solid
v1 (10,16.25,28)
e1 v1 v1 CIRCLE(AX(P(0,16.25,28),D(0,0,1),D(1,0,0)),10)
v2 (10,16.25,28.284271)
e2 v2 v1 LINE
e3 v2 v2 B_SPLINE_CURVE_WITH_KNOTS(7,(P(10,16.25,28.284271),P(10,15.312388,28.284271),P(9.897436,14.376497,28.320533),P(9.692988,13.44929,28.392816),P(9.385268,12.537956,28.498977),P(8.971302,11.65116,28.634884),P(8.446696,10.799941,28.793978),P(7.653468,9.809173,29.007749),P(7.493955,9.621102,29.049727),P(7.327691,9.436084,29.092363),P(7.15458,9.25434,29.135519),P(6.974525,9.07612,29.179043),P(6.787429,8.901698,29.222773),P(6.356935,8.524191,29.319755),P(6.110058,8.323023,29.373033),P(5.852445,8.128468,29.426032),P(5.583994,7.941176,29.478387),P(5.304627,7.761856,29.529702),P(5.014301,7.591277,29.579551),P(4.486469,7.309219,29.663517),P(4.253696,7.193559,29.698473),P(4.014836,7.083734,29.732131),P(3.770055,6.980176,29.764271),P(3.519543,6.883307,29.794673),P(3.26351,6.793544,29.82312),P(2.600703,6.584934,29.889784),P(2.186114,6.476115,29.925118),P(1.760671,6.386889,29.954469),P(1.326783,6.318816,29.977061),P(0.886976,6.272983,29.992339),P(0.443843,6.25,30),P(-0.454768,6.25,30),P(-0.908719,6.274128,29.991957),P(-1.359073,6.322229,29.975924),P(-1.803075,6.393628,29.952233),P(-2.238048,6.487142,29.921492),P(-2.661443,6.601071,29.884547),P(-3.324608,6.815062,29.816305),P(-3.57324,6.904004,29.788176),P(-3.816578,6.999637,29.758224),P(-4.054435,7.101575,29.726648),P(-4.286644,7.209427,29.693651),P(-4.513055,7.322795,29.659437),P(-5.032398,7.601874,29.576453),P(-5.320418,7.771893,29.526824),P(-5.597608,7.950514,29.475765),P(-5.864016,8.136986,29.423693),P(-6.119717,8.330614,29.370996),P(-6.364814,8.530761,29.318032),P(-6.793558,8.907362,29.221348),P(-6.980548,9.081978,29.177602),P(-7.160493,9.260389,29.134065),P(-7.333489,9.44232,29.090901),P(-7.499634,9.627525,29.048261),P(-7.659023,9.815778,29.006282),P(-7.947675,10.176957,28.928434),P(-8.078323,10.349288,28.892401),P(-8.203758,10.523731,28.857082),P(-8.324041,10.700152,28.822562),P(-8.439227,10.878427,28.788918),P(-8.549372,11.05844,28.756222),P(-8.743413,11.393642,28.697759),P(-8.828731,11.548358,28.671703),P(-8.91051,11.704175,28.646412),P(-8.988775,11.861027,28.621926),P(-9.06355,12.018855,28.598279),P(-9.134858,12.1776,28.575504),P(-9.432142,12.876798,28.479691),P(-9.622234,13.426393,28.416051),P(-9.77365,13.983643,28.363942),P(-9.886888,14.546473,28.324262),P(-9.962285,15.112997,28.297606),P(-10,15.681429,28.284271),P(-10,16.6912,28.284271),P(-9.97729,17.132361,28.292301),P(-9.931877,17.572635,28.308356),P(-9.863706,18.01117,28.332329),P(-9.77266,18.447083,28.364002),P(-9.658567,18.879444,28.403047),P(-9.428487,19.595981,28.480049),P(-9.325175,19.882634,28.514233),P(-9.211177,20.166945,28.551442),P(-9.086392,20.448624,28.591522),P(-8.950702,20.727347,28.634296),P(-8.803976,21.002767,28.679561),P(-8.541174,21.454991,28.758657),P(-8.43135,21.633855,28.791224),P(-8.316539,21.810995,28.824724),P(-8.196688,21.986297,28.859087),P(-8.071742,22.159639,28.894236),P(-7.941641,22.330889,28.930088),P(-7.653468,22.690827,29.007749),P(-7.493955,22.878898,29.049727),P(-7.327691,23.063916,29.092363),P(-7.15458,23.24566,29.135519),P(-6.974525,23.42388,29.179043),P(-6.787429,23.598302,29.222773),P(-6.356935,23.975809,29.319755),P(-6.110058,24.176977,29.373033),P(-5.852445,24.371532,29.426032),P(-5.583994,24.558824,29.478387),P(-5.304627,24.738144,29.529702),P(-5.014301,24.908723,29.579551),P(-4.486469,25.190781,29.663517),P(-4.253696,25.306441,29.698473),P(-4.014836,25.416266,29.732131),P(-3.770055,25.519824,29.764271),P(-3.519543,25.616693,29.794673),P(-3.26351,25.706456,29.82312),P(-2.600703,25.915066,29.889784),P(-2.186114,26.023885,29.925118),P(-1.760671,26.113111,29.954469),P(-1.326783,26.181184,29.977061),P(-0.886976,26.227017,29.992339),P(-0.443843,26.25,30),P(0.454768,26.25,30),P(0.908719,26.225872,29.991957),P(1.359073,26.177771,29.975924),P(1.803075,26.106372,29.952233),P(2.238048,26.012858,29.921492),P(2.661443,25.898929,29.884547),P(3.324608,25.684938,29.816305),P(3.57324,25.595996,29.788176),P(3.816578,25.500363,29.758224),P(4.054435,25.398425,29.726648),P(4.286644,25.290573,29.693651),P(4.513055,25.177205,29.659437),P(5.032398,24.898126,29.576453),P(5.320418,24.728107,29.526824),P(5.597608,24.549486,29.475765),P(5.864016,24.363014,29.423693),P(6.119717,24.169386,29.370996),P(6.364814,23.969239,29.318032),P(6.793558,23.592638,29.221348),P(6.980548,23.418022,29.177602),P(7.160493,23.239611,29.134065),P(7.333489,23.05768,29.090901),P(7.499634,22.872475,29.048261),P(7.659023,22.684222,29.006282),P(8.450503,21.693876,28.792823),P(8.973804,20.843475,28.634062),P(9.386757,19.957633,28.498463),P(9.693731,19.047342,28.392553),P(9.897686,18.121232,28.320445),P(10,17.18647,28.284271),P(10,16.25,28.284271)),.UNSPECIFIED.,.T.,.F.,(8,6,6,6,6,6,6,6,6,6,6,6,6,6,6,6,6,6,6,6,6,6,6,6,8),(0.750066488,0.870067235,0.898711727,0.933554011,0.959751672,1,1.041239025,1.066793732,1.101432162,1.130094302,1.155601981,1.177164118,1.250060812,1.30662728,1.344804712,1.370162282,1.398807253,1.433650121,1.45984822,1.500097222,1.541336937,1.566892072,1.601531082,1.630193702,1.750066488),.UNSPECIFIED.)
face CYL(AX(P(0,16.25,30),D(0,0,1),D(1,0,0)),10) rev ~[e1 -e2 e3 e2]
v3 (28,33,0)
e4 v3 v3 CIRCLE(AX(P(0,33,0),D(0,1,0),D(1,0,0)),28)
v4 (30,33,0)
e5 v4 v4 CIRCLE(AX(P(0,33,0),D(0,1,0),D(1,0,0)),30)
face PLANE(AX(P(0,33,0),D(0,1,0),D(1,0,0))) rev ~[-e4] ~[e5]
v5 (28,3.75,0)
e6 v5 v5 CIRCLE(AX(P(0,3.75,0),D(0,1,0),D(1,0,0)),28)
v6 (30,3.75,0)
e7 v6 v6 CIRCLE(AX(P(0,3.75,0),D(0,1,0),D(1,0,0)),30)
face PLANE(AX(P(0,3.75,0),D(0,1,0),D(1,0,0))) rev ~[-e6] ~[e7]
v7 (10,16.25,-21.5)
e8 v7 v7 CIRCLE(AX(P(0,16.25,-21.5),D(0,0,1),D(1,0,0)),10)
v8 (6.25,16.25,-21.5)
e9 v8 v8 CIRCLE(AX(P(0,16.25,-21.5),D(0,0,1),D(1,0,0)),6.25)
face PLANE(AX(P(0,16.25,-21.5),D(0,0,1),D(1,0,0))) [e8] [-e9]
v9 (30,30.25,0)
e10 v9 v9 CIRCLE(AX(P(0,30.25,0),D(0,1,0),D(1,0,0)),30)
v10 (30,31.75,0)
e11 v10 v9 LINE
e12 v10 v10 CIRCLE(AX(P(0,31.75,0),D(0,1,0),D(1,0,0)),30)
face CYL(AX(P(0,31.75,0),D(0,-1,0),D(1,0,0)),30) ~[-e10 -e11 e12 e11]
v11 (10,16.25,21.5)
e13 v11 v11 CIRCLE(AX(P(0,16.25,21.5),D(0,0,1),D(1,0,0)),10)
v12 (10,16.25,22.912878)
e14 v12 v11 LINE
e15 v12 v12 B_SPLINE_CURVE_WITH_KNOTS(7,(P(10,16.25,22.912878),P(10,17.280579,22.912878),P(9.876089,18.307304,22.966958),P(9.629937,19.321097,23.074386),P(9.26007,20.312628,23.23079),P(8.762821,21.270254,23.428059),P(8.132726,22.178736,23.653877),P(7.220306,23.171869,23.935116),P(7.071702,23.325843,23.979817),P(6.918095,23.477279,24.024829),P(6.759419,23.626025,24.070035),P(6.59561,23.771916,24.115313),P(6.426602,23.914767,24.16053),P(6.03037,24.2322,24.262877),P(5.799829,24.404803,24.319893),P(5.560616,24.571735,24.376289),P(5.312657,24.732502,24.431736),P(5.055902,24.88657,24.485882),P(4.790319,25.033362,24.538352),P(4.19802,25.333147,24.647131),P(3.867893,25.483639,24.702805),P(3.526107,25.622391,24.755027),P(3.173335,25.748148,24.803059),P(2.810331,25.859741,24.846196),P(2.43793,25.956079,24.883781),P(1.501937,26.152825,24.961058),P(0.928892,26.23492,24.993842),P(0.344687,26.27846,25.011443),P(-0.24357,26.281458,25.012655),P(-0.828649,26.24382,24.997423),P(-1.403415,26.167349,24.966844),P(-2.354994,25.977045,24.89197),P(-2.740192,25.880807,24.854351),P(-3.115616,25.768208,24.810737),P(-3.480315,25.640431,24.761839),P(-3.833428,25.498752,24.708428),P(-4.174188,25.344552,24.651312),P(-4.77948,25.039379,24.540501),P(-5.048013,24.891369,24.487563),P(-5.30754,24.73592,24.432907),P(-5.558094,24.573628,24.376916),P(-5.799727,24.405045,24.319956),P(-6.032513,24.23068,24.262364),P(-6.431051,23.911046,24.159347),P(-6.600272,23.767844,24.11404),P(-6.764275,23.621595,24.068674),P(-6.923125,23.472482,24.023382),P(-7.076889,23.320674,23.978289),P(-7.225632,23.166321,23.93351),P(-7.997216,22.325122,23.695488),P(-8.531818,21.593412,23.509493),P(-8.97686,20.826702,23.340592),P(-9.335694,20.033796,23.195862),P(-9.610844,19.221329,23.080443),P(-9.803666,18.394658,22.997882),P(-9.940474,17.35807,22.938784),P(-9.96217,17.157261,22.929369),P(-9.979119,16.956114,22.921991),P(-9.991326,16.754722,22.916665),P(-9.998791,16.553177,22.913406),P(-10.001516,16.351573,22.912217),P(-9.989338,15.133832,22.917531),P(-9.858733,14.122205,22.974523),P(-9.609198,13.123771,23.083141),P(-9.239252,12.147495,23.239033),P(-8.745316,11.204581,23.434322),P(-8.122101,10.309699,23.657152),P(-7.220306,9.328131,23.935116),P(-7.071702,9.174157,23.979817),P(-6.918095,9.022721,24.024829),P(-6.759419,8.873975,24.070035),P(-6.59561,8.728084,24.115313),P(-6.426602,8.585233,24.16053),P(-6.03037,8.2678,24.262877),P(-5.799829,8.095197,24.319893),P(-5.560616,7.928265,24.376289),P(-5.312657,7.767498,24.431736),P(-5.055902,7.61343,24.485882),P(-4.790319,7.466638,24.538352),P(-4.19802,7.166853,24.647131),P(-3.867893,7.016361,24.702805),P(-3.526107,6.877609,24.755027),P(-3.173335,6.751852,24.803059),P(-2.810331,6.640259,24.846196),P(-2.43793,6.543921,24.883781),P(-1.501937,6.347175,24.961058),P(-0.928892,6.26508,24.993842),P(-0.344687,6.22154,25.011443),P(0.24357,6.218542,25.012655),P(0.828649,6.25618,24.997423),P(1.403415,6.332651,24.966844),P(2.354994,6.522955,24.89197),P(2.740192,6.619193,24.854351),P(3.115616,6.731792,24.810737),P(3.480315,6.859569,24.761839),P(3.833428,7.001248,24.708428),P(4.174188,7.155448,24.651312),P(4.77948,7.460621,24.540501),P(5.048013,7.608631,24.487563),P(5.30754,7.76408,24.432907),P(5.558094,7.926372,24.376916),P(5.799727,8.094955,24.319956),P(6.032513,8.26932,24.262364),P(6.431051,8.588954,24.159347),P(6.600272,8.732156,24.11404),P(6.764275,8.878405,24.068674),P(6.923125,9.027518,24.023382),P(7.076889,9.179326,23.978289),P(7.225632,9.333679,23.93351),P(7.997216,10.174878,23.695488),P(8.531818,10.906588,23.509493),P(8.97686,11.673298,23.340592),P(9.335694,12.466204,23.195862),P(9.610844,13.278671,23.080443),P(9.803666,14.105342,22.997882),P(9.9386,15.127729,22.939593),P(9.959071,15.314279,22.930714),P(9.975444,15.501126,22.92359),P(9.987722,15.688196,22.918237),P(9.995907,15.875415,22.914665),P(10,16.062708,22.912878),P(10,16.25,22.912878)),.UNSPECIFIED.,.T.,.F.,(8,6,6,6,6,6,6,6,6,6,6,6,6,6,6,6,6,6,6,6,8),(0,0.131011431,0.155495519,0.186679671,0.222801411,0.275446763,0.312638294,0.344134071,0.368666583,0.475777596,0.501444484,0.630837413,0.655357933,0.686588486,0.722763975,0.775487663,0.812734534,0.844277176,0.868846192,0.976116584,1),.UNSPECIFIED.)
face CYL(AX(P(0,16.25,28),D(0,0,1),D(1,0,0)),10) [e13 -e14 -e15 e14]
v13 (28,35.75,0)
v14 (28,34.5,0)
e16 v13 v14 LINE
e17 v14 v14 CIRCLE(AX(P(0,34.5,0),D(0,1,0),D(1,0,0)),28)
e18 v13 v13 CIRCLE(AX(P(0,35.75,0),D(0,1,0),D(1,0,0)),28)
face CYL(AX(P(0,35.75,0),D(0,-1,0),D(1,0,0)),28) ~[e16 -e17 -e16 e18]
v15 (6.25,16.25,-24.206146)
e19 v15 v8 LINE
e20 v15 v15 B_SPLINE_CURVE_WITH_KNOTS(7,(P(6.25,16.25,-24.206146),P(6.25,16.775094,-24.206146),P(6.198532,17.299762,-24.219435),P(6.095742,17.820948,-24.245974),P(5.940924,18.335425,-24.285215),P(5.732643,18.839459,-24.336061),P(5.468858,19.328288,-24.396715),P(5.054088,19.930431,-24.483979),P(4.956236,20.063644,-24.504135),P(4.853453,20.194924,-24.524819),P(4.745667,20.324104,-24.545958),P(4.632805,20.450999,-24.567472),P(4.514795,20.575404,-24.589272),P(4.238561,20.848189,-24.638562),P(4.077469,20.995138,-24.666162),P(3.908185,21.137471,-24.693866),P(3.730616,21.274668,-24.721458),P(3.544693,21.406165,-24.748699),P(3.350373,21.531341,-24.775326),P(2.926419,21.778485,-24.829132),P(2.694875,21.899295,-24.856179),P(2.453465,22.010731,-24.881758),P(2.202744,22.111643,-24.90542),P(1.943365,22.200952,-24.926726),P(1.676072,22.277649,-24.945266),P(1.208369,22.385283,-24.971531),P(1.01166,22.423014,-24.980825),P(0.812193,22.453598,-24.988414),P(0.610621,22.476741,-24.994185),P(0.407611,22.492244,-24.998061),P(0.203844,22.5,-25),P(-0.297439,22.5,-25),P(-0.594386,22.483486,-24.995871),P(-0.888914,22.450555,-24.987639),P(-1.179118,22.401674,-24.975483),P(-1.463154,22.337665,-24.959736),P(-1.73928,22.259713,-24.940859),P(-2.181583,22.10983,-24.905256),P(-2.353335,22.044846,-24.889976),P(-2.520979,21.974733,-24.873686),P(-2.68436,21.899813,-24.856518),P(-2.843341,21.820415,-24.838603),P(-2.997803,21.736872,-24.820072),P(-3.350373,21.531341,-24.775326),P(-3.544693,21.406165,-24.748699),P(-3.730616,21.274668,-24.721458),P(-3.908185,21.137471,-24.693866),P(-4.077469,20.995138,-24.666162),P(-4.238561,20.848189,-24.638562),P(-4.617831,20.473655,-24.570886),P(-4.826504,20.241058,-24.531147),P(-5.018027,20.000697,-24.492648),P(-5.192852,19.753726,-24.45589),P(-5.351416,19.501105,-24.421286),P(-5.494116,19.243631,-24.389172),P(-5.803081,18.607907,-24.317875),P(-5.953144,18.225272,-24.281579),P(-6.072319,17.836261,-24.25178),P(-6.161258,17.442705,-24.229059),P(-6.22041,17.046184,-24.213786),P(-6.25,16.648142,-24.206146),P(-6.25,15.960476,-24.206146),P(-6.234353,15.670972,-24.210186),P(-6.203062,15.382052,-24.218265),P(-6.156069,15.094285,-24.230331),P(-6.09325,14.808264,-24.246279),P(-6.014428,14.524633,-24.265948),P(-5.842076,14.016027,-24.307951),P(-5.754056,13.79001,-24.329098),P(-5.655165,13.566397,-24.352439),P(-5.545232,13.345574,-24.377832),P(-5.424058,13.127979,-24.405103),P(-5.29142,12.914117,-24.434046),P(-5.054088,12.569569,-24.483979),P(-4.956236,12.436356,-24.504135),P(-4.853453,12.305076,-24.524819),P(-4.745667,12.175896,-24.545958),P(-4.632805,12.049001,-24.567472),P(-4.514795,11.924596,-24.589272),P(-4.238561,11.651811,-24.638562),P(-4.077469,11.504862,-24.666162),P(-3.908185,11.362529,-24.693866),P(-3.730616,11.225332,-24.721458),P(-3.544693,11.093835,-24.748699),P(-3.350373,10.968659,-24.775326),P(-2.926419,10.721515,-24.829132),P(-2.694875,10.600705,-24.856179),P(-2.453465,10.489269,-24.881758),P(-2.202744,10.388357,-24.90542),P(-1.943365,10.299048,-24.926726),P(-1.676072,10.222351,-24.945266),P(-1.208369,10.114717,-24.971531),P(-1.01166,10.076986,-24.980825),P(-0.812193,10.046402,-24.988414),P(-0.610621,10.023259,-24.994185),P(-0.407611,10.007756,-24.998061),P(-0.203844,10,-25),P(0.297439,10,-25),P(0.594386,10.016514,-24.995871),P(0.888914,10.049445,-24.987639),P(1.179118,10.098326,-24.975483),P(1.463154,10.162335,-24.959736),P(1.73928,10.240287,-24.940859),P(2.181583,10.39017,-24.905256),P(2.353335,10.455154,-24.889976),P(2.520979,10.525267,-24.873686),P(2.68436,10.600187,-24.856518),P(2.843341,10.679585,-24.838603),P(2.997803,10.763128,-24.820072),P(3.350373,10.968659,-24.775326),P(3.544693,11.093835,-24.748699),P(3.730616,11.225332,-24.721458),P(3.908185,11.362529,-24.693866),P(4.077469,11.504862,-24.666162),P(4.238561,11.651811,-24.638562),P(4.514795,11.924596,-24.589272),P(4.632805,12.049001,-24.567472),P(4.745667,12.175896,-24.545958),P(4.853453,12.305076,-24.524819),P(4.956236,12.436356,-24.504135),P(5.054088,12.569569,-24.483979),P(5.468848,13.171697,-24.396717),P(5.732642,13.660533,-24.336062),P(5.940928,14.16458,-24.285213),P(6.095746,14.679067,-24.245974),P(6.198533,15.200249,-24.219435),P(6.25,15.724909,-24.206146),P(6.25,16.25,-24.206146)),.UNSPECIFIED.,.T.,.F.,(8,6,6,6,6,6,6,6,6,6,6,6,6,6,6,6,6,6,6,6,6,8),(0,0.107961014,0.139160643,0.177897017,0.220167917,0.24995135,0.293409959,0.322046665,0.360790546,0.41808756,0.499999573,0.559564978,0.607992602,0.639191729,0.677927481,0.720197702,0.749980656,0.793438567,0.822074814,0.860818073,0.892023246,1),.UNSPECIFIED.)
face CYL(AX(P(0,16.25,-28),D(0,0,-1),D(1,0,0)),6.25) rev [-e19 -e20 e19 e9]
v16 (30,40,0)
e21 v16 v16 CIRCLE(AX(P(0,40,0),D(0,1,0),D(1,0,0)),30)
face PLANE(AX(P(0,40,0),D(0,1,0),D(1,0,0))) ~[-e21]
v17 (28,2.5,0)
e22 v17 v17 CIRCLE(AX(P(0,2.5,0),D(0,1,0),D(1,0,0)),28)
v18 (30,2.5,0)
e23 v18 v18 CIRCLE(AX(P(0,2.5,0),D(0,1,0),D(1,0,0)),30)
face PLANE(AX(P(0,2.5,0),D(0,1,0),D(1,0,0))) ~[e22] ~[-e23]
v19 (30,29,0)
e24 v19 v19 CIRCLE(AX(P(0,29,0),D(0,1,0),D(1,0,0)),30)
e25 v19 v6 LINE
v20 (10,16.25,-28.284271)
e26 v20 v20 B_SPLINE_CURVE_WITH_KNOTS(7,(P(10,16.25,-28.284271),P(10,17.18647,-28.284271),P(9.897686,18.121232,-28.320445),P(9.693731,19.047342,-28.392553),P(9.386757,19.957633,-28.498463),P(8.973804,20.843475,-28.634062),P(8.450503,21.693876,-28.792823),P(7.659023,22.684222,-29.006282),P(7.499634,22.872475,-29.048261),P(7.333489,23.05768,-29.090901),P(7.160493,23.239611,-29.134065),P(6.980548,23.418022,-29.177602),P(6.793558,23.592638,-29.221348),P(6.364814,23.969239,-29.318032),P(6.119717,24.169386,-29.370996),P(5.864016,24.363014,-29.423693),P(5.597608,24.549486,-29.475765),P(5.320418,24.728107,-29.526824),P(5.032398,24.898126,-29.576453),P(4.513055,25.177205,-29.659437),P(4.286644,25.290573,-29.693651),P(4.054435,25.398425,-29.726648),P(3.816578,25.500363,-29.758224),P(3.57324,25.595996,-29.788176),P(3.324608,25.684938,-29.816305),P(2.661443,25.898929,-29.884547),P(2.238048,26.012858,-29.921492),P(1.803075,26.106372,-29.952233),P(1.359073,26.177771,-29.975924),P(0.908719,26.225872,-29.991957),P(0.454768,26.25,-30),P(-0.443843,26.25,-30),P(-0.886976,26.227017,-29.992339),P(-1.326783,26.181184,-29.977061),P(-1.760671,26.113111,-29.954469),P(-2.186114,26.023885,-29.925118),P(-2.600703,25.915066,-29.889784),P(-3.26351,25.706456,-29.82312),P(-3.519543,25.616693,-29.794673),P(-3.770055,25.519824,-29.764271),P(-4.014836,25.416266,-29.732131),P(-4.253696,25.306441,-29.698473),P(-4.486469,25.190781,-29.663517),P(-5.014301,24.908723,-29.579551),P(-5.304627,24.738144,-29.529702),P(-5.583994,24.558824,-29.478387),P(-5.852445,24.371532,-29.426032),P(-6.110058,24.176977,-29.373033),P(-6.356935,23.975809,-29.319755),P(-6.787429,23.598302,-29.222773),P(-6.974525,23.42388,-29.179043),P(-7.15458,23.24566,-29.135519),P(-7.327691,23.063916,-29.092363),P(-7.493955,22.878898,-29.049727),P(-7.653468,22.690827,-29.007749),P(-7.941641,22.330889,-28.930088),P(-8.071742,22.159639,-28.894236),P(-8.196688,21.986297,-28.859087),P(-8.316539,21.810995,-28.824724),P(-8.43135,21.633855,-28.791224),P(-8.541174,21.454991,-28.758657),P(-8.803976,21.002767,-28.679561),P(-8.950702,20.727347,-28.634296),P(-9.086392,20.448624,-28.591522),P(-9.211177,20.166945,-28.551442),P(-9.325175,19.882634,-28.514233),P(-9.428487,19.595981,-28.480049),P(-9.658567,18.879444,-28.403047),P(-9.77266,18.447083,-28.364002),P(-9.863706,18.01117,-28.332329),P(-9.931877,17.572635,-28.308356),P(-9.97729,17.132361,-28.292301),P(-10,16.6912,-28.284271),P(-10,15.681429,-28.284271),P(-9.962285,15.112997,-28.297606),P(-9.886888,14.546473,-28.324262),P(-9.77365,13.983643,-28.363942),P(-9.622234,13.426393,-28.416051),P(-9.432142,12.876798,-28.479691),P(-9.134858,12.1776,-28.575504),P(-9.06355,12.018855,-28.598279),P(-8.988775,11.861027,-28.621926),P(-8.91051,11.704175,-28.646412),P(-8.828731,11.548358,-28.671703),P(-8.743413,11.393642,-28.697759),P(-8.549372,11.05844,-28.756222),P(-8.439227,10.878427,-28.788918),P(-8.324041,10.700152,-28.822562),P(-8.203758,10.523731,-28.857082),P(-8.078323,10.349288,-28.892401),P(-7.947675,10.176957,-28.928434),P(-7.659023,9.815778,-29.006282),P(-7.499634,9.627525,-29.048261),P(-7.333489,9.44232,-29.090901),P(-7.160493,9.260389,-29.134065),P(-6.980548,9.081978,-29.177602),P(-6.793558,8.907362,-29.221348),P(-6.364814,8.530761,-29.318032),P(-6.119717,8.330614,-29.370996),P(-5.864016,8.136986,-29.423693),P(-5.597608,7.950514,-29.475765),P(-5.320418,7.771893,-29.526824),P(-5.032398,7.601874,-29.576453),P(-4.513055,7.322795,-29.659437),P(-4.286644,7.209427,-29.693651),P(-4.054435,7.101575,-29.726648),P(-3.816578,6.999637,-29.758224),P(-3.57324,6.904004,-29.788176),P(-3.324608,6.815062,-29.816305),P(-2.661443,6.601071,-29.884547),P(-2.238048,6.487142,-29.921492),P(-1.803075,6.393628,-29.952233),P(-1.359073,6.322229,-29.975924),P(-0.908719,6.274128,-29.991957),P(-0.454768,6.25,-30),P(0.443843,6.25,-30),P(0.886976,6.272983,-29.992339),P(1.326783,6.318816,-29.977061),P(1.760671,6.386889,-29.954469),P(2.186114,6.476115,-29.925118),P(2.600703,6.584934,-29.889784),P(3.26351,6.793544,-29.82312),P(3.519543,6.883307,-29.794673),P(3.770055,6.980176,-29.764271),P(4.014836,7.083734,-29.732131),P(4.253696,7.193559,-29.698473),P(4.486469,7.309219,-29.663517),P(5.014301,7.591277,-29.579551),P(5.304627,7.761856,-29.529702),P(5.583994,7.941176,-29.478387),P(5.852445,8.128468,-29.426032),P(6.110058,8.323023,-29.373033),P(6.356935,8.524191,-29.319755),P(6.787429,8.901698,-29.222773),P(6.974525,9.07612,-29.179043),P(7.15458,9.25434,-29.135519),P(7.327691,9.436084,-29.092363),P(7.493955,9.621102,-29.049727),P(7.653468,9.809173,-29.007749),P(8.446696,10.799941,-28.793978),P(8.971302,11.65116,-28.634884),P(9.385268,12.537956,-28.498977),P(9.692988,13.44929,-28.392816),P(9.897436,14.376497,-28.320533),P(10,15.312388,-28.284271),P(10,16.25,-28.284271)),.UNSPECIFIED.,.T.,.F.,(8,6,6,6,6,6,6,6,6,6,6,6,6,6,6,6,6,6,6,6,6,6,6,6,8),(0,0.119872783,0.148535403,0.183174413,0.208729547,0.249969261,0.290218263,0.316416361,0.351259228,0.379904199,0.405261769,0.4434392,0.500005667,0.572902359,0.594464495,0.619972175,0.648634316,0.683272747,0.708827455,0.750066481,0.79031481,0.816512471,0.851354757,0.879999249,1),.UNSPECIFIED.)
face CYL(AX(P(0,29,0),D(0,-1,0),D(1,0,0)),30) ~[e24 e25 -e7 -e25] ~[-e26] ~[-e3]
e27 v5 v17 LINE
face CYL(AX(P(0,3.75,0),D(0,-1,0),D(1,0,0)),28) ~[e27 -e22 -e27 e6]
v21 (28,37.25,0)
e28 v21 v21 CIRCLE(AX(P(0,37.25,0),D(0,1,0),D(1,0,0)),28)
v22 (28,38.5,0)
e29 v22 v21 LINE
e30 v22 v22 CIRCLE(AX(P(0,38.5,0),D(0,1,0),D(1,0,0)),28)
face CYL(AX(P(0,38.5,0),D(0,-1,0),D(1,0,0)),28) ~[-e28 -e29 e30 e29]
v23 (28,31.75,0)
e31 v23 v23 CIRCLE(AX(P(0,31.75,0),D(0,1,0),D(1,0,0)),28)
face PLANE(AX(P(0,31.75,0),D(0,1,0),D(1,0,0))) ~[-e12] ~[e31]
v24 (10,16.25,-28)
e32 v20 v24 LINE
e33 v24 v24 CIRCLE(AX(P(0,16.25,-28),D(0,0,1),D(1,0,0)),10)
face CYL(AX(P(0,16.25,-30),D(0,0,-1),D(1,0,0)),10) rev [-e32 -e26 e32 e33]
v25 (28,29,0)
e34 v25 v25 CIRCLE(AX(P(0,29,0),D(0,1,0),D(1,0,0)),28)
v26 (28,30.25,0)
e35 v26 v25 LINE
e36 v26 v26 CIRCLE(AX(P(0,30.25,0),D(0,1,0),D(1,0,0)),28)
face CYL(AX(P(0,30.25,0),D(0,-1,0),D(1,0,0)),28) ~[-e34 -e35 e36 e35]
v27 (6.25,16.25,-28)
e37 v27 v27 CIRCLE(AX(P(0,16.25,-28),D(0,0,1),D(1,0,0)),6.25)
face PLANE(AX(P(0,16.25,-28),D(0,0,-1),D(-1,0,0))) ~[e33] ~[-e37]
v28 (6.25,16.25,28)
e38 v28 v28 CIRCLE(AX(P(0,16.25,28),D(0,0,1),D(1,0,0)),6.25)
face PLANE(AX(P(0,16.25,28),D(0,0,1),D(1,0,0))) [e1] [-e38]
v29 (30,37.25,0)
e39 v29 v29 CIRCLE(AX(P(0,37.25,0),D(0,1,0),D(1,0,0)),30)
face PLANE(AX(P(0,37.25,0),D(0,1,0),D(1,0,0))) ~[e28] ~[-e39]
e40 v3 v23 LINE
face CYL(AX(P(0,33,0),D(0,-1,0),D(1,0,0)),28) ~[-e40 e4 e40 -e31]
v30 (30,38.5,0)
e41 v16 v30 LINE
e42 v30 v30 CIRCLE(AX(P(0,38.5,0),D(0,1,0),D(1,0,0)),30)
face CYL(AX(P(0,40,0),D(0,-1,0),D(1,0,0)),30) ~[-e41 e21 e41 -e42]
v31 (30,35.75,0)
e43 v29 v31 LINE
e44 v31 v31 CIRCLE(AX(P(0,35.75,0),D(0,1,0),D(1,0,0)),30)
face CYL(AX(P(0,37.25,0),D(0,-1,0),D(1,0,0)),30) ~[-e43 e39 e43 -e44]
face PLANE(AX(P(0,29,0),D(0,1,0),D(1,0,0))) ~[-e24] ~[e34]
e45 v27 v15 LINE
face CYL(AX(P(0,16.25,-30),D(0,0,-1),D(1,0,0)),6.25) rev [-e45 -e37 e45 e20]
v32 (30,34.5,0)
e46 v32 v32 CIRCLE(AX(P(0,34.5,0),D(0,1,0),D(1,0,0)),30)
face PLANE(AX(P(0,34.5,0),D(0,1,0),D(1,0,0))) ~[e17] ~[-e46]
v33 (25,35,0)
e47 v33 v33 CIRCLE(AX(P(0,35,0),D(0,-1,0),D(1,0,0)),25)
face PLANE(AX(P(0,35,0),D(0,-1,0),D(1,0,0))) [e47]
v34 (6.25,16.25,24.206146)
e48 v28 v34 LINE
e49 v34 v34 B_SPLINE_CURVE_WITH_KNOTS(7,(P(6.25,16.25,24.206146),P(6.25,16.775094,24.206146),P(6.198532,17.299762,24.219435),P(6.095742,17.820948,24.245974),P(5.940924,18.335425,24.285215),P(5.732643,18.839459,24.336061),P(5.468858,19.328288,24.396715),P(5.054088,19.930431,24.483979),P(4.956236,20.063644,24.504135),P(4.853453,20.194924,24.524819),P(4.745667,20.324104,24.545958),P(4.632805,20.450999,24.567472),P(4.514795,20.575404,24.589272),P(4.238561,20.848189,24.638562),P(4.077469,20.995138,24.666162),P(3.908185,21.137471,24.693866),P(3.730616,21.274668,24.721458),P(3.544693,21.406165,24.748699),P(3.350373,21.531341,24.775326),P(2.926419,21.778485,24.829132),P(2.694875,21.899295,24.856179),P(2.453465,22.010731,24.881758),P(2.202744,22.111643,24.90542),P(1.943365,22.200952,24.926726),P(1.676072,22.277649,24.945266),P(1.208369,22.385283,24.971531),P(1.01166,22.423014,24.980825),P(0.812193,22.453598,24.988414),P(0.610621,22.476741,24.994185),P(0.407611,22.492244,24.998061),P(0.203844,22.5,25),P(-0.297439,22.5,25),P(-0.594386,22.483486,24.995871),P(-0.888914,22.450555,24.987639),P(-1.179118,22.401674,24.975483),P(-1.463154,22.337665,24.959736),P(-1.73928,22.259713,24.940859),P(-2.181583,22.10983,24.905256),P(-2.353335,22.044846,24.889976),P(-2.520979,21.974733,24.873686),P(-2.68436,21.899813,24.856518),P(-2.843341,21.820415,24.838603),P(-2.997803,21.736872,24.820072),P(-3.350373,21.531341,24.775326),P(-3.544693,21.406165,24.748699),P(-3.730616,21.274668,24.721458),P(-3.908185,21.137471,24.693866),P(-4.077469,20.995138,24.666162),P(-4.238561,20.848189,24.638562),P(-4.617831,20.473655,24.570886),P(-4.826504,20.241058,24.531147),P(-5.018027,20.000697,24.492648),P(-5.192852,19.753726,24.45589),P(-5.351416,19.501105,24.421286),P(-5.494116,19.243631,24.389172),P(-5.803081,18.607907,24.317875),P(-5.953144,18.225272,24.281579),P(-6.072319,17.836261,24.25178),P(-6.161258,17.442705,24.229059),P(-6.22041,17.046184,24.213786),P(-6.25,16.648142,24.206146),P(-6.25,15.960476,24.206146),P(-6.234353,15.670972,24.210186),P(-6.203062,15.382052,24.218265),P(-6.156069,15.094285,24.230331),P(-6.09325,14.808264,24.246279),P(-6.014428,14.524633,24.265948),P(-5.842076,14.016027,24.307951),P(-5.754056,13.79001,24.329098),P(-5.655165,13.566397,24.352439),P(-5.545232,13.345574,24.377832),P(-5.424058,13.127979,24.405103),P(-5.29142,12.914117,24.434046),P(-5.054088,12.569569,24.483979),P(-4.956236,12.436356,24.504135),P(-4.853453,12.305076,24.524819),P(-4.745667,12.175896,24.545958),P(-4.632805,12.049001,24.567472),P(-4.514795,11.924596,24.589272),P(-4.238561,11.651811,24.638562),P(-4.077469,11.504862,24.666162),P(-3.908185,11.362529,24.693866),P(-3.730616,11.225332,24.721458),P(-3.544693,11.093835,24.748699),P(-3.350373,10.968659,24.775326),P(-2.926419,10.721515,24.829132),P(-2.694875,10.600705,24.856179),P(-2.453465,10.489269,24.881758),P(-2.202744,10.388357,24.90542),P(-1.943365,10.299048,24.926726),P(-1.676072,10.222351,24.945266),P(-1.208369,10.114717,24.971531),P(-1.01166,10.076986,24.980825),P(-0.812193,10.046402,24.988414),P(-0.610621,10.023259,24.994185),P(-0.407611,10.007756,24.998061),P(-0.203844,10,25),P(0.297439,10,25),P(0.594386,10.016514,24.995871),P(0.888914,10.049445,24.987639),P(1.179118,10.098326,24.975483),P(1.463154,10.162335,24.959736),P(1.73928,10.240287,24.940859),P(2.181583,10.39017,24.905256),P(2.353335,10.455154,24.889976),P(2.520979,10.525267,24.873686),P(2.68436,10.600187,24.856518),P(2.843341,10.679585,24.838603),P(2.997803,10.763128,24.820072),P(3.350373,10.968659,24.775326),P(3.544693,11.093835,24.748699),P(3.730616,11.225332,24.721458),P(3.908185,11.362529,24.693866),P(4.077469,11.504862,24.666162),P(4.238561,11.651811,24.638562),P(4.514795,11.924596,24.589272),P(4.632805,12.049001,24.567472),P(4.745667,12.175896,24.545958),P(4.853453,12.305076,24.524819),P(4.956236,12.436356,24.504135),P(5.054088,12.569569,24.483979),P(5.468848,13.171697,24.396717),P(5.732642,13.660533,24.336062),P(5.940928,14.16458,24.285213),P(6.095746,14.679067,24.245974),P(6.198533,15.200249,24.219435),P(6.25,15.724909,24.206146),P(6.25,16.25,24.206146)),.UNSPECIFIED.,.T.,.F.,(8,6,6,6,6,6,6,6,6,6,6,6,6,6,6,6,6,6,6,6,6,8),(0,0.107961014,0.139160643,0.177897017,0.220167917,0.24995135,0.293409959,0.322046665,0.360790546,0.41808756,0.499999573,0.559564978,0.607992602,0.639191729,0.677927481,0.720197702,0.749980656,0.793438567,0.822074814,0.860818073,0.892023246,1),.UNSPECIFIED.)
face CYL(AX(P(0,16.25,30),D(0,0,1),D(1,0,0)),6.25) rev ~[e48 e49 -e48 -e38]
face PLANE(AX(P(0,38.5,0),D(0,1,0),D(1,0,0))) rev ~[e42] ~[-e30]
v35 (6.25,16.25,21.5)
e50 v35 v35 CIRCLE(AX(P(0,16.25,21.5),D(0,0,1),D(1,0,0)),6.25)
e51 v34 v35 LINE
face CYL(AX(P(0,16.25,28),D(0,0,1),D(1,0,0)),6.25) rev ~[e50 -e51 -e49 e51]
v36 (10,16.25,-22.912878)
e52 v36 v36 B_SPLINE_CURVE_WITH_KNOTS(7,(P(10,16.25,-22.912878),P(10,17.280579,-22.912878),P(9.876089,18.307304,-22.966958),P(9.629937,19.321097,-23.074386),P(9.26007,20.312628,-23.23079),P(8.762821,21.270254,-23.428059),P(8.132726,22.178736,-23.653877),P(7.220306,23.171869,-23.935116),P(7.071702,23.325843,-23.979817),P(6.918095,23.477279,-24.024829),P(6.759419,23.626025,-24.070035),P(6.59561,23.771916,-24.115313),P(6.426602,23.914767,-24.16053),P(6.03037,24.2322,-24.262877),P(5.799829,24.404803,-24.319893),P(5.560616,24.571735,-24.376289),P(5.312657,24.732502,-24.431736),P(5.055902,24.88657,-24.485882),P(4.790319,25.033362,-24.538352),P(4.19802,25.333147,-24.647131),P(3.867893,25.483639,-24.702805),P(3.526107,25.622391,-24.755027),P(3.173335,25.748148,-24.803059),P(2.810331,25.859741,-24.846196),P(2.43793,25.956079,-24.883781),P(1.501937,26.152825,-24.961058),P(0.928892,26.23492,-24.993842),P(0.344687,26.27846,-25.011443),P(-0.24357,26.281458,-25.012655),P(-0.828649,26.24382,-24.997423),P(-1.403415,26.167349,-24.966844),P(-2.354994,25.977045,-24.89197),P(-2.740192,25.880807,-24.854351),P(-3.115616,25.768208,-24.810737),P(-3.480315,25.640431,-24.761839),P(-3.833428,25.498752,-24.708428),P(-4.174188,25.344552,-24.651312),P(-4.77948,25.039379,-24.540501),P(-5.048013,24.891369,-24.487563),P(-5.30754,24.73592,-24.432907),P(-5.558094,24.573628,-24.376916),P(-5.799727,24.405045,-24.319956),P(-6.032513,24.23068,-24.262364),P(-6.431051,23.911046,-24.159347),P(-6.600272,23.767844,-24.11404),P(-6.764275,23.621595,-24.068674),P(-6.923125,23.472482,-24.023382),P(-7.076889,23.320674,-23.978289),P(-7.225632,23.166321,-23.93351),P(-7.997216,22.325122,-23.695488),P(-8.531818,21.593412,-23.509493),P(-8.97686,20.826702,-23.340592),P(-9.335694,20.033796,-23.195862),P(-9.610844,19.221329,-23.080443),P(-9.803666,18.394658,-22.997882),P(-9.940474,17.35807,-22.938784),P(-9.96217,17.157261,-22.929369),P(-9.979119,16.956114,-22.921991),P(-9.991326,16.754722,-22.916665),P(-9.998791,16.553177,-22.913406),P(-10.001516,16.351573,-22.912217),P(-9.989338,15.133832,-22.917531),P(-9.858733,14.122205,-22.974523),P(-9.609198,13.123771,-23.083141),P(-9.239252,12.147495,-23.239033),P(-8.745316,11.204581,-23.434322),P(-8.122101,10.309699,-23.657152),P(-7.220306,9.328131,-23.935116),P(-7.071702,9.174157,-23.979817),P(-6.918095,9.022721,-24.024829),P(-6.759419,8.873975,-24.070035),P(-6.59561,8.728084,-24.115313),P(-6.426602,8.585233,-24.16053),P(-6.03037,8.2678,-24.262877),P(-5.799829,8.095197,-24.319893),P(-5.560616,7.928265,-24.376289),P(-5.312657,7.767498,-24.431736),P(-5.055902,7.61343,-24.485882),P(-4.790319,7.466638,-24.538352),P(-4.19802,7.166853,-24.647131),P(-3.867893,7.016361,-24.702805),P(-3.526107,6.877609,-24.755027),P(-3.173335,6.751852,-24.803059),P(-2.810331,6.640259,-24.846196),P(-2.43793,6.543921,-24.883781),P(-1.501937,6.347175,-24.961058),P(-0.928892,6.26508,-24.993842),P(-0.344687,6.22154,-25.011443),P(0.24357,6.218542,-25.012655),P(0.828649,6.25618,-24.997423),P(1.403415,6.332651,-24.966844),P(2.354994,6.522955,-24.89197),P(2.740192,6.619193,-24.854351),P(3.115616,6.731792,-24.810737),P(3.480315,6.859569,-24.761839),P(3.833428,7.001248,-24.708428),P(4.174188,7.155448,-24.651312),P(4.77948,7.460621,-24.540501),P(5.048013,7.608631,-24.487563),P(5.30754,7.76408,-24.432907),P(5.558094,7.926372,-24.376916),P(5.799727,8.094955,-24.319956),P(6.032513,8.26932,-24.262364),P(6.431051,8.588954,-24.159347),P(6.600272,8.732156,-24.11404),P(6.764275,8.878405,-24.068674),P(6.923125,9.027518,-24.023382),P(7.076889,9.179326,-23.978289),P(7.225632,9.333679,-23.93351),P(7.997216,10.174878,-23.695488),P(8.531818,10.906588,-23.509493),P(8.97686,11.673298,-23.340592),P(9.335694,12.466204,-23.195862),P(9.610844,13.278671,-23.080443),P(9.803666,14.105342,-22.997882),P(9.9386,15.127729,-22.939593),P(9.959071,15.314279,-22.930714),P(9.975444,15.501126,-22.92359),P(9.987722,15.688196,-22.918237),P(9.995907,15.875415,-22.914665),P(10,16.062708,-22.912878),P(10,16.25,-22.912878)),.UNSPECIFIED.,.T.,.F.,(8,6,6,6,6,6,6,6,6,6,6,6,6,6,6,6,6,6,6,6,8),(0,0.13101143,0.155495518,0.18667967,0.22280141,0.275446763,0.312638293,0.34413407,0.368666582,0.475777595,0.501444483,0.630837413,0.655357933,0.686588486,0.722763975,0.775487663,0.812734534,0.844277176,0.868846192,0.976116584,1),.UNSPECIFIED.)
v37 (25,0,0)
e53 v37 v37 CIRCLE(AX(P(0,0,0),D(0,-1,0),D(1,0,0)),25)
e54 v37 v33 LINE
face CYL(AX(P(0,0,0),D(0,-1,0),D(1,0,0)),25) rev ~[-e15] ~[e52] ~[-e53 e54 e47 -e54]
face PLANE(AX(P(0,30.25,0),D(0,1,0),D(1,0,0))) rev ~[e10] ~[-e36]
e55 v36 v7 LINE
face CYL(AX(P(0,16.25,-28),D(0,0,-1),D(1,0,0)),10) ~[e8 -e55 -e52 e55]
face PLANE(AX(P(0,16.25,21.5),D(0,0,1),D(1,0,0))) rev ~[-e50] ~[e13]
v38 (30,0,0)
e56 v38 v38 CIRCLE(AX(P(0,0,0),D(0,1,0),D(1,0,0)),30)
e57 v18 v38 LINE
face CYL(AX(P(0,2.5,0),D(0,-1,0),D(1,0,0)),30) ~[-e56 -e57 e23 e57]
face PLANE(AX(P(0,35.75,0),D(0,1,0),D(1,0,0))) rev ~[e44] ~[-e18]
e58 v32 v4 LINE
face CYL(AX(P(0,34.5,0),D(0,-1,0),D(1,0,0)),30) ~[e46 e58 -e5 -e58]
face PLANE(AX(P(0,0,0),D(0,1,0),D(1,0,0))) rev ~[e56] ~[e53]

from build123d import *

# Parameters (mm, degrees)
SKETCH2_R               = 25
CUT_EXTRUDE1_DEPTH      = 35
SKETCH3_R               = 10
SKETCH3_R_2             = 6.25
CUT_EXTRUDE2_DEPTH      = 2
CUT_EXTRUDE3_REACH      = 80.102
CUT_EXTRUDE3_END_RADIUS = 25
SKETCH3_2_R             = 6.25
BOSS_EXTRUDE1_START     = -2
SKETCH3_3_R             = 10
SKETCH3_3_R_2           = 6.25
BOSS_EXTRUDE1_DEPTH     = 6.5
BOSS_EXTRUDE2_START     = -58
SKETCH3_4_R             = 10
SKETCH3_4_R_2           = 6.25
BOSS_EXTRUDE2_DEPTH     = 6.5


with BuildPart() as part:
    # Sketch1 → Revolve1 (revolve)
    with BuildSketch(Plane.XY, mode=Mode.PRIVATE) as revolve1_sk:
        Polygon((-30, 0), (0, 0), (0, 40), (-30, 40), (-30, 38.5), (-28, 38.5), (-28, 37.25), (-30, 37.25), (-30, 35.75), (-28, 35.75), (-28, 34.5), (-30, 34.5), (-30, 33), (-28, 33), (-28, 31.75), (-30, 31.75), (-30, 30.25), (-28, 30.25), (-28, 29), (-30, 29), (-30, 3.75), (-28, 3.75), (-28, 2.5), (-30, 2.5), align=None)
    revolve(revolve1_sk.sketch.rotate(Axis((0, 0, 0), (0, 1, 0)), 180), axis=Axis((0, 0, 0), (0, 1, 0)))

    # Sketch2 → Cut-Extrude1 (cut)
    with BuildSketch(Plane.XZ):
        Circle(SKETCH2_R)
    extrude(amount=-CUT_EXTRUDE1_DEPTH, mode=Mode.SUBTRACT)

    # Sketch3 → Cut-Extrude2 (cut)
    with BuildSketch(Plane.XY.offset(30)):
        with Locations((0, 16.25)):
            Circle(SKETCH3_R)
        with Locations((0, 16.25)):
            Circle(SKETCH3_R_2, mode=Mode.SUBTRACT)
    cut_extrude2 = extrude(amount=-CUT_EXTRUDE2_DEPTH, mode=Mode.SUBTRACT)

    # Cut-Extrude3: up to this cylinder (the profile starts outside it)
    cut_extrude3_end = Plane(origin=(0, 16.25, 0), z_dir=(0, -1, 0)) * Cylinder(CUT_EXTRUDE3_END_RADIUS, 211.204, mode=Mode.PRIVATE)
    # Sketch3<2> → Cut-Extrude3 (cut, up to the surface)
    with BuildSketch(Plane.XY.offset(30), mode=Mode.PRIVATE) as cut_extrude3_sk1:
        with Locations((0, 16.25)):
            Circle(SKETCH3_2_R)
    cut_extrude3_tool1 = extrude(cut_extrude3_sk1.sketch, amount=-CUT_EXTRUDE3_REACH, mode=Mode.PRIVATE) - cut_extrude3_end
    cut_extrude3 = cut_extrude3_tool1.solids().sort_by_distance((0, 16.25, 30))[0]
    add(cut_extrude3, mode=Mode.SUBTRACT)

    # Sketch3<3> → Boss-Extrude1 (add)
    with BuildSketch(Plane.XY.offset(30).offset(BOSS_EXTRUDE1_START)):
        with Locations((0, 16.25)):
            Circle(SKETCH3_3_R)
        with Locations((0, 16.25)):
            Circle(SKETCH3_3_R_2, mode=Mode.SUBTRACT)
    extrude(amount=-BOSS_EXTRUDE1_DEPTH)

    # Mirror1: Cut-Extrude2, Cut-Extrude3 across plane
    add(cut_extrude2.mirror(Plane.XY), mode=Mode.SUBTRACT)
    add(cut_extrude3.mirror(Plane.XY), mode=Mode.SUBTRACT)

    # Sketch3<4> → Boss-Extrude2 (add)
    with BuildSketch(Plane.XY.offset(30).offset(BOSS_EXTRUDE2_START)):
        with Locations((0, 16.25)):
            Circle(SKETCH3_4_R)
        with Locations((0, 16.25)):
            Circle(SKETCH3_4_R_2, mode=Mode.SUBTRACT)
    extrude(amount=BOSS_EXTRUDE2_DEPTH)


solid = part.part
